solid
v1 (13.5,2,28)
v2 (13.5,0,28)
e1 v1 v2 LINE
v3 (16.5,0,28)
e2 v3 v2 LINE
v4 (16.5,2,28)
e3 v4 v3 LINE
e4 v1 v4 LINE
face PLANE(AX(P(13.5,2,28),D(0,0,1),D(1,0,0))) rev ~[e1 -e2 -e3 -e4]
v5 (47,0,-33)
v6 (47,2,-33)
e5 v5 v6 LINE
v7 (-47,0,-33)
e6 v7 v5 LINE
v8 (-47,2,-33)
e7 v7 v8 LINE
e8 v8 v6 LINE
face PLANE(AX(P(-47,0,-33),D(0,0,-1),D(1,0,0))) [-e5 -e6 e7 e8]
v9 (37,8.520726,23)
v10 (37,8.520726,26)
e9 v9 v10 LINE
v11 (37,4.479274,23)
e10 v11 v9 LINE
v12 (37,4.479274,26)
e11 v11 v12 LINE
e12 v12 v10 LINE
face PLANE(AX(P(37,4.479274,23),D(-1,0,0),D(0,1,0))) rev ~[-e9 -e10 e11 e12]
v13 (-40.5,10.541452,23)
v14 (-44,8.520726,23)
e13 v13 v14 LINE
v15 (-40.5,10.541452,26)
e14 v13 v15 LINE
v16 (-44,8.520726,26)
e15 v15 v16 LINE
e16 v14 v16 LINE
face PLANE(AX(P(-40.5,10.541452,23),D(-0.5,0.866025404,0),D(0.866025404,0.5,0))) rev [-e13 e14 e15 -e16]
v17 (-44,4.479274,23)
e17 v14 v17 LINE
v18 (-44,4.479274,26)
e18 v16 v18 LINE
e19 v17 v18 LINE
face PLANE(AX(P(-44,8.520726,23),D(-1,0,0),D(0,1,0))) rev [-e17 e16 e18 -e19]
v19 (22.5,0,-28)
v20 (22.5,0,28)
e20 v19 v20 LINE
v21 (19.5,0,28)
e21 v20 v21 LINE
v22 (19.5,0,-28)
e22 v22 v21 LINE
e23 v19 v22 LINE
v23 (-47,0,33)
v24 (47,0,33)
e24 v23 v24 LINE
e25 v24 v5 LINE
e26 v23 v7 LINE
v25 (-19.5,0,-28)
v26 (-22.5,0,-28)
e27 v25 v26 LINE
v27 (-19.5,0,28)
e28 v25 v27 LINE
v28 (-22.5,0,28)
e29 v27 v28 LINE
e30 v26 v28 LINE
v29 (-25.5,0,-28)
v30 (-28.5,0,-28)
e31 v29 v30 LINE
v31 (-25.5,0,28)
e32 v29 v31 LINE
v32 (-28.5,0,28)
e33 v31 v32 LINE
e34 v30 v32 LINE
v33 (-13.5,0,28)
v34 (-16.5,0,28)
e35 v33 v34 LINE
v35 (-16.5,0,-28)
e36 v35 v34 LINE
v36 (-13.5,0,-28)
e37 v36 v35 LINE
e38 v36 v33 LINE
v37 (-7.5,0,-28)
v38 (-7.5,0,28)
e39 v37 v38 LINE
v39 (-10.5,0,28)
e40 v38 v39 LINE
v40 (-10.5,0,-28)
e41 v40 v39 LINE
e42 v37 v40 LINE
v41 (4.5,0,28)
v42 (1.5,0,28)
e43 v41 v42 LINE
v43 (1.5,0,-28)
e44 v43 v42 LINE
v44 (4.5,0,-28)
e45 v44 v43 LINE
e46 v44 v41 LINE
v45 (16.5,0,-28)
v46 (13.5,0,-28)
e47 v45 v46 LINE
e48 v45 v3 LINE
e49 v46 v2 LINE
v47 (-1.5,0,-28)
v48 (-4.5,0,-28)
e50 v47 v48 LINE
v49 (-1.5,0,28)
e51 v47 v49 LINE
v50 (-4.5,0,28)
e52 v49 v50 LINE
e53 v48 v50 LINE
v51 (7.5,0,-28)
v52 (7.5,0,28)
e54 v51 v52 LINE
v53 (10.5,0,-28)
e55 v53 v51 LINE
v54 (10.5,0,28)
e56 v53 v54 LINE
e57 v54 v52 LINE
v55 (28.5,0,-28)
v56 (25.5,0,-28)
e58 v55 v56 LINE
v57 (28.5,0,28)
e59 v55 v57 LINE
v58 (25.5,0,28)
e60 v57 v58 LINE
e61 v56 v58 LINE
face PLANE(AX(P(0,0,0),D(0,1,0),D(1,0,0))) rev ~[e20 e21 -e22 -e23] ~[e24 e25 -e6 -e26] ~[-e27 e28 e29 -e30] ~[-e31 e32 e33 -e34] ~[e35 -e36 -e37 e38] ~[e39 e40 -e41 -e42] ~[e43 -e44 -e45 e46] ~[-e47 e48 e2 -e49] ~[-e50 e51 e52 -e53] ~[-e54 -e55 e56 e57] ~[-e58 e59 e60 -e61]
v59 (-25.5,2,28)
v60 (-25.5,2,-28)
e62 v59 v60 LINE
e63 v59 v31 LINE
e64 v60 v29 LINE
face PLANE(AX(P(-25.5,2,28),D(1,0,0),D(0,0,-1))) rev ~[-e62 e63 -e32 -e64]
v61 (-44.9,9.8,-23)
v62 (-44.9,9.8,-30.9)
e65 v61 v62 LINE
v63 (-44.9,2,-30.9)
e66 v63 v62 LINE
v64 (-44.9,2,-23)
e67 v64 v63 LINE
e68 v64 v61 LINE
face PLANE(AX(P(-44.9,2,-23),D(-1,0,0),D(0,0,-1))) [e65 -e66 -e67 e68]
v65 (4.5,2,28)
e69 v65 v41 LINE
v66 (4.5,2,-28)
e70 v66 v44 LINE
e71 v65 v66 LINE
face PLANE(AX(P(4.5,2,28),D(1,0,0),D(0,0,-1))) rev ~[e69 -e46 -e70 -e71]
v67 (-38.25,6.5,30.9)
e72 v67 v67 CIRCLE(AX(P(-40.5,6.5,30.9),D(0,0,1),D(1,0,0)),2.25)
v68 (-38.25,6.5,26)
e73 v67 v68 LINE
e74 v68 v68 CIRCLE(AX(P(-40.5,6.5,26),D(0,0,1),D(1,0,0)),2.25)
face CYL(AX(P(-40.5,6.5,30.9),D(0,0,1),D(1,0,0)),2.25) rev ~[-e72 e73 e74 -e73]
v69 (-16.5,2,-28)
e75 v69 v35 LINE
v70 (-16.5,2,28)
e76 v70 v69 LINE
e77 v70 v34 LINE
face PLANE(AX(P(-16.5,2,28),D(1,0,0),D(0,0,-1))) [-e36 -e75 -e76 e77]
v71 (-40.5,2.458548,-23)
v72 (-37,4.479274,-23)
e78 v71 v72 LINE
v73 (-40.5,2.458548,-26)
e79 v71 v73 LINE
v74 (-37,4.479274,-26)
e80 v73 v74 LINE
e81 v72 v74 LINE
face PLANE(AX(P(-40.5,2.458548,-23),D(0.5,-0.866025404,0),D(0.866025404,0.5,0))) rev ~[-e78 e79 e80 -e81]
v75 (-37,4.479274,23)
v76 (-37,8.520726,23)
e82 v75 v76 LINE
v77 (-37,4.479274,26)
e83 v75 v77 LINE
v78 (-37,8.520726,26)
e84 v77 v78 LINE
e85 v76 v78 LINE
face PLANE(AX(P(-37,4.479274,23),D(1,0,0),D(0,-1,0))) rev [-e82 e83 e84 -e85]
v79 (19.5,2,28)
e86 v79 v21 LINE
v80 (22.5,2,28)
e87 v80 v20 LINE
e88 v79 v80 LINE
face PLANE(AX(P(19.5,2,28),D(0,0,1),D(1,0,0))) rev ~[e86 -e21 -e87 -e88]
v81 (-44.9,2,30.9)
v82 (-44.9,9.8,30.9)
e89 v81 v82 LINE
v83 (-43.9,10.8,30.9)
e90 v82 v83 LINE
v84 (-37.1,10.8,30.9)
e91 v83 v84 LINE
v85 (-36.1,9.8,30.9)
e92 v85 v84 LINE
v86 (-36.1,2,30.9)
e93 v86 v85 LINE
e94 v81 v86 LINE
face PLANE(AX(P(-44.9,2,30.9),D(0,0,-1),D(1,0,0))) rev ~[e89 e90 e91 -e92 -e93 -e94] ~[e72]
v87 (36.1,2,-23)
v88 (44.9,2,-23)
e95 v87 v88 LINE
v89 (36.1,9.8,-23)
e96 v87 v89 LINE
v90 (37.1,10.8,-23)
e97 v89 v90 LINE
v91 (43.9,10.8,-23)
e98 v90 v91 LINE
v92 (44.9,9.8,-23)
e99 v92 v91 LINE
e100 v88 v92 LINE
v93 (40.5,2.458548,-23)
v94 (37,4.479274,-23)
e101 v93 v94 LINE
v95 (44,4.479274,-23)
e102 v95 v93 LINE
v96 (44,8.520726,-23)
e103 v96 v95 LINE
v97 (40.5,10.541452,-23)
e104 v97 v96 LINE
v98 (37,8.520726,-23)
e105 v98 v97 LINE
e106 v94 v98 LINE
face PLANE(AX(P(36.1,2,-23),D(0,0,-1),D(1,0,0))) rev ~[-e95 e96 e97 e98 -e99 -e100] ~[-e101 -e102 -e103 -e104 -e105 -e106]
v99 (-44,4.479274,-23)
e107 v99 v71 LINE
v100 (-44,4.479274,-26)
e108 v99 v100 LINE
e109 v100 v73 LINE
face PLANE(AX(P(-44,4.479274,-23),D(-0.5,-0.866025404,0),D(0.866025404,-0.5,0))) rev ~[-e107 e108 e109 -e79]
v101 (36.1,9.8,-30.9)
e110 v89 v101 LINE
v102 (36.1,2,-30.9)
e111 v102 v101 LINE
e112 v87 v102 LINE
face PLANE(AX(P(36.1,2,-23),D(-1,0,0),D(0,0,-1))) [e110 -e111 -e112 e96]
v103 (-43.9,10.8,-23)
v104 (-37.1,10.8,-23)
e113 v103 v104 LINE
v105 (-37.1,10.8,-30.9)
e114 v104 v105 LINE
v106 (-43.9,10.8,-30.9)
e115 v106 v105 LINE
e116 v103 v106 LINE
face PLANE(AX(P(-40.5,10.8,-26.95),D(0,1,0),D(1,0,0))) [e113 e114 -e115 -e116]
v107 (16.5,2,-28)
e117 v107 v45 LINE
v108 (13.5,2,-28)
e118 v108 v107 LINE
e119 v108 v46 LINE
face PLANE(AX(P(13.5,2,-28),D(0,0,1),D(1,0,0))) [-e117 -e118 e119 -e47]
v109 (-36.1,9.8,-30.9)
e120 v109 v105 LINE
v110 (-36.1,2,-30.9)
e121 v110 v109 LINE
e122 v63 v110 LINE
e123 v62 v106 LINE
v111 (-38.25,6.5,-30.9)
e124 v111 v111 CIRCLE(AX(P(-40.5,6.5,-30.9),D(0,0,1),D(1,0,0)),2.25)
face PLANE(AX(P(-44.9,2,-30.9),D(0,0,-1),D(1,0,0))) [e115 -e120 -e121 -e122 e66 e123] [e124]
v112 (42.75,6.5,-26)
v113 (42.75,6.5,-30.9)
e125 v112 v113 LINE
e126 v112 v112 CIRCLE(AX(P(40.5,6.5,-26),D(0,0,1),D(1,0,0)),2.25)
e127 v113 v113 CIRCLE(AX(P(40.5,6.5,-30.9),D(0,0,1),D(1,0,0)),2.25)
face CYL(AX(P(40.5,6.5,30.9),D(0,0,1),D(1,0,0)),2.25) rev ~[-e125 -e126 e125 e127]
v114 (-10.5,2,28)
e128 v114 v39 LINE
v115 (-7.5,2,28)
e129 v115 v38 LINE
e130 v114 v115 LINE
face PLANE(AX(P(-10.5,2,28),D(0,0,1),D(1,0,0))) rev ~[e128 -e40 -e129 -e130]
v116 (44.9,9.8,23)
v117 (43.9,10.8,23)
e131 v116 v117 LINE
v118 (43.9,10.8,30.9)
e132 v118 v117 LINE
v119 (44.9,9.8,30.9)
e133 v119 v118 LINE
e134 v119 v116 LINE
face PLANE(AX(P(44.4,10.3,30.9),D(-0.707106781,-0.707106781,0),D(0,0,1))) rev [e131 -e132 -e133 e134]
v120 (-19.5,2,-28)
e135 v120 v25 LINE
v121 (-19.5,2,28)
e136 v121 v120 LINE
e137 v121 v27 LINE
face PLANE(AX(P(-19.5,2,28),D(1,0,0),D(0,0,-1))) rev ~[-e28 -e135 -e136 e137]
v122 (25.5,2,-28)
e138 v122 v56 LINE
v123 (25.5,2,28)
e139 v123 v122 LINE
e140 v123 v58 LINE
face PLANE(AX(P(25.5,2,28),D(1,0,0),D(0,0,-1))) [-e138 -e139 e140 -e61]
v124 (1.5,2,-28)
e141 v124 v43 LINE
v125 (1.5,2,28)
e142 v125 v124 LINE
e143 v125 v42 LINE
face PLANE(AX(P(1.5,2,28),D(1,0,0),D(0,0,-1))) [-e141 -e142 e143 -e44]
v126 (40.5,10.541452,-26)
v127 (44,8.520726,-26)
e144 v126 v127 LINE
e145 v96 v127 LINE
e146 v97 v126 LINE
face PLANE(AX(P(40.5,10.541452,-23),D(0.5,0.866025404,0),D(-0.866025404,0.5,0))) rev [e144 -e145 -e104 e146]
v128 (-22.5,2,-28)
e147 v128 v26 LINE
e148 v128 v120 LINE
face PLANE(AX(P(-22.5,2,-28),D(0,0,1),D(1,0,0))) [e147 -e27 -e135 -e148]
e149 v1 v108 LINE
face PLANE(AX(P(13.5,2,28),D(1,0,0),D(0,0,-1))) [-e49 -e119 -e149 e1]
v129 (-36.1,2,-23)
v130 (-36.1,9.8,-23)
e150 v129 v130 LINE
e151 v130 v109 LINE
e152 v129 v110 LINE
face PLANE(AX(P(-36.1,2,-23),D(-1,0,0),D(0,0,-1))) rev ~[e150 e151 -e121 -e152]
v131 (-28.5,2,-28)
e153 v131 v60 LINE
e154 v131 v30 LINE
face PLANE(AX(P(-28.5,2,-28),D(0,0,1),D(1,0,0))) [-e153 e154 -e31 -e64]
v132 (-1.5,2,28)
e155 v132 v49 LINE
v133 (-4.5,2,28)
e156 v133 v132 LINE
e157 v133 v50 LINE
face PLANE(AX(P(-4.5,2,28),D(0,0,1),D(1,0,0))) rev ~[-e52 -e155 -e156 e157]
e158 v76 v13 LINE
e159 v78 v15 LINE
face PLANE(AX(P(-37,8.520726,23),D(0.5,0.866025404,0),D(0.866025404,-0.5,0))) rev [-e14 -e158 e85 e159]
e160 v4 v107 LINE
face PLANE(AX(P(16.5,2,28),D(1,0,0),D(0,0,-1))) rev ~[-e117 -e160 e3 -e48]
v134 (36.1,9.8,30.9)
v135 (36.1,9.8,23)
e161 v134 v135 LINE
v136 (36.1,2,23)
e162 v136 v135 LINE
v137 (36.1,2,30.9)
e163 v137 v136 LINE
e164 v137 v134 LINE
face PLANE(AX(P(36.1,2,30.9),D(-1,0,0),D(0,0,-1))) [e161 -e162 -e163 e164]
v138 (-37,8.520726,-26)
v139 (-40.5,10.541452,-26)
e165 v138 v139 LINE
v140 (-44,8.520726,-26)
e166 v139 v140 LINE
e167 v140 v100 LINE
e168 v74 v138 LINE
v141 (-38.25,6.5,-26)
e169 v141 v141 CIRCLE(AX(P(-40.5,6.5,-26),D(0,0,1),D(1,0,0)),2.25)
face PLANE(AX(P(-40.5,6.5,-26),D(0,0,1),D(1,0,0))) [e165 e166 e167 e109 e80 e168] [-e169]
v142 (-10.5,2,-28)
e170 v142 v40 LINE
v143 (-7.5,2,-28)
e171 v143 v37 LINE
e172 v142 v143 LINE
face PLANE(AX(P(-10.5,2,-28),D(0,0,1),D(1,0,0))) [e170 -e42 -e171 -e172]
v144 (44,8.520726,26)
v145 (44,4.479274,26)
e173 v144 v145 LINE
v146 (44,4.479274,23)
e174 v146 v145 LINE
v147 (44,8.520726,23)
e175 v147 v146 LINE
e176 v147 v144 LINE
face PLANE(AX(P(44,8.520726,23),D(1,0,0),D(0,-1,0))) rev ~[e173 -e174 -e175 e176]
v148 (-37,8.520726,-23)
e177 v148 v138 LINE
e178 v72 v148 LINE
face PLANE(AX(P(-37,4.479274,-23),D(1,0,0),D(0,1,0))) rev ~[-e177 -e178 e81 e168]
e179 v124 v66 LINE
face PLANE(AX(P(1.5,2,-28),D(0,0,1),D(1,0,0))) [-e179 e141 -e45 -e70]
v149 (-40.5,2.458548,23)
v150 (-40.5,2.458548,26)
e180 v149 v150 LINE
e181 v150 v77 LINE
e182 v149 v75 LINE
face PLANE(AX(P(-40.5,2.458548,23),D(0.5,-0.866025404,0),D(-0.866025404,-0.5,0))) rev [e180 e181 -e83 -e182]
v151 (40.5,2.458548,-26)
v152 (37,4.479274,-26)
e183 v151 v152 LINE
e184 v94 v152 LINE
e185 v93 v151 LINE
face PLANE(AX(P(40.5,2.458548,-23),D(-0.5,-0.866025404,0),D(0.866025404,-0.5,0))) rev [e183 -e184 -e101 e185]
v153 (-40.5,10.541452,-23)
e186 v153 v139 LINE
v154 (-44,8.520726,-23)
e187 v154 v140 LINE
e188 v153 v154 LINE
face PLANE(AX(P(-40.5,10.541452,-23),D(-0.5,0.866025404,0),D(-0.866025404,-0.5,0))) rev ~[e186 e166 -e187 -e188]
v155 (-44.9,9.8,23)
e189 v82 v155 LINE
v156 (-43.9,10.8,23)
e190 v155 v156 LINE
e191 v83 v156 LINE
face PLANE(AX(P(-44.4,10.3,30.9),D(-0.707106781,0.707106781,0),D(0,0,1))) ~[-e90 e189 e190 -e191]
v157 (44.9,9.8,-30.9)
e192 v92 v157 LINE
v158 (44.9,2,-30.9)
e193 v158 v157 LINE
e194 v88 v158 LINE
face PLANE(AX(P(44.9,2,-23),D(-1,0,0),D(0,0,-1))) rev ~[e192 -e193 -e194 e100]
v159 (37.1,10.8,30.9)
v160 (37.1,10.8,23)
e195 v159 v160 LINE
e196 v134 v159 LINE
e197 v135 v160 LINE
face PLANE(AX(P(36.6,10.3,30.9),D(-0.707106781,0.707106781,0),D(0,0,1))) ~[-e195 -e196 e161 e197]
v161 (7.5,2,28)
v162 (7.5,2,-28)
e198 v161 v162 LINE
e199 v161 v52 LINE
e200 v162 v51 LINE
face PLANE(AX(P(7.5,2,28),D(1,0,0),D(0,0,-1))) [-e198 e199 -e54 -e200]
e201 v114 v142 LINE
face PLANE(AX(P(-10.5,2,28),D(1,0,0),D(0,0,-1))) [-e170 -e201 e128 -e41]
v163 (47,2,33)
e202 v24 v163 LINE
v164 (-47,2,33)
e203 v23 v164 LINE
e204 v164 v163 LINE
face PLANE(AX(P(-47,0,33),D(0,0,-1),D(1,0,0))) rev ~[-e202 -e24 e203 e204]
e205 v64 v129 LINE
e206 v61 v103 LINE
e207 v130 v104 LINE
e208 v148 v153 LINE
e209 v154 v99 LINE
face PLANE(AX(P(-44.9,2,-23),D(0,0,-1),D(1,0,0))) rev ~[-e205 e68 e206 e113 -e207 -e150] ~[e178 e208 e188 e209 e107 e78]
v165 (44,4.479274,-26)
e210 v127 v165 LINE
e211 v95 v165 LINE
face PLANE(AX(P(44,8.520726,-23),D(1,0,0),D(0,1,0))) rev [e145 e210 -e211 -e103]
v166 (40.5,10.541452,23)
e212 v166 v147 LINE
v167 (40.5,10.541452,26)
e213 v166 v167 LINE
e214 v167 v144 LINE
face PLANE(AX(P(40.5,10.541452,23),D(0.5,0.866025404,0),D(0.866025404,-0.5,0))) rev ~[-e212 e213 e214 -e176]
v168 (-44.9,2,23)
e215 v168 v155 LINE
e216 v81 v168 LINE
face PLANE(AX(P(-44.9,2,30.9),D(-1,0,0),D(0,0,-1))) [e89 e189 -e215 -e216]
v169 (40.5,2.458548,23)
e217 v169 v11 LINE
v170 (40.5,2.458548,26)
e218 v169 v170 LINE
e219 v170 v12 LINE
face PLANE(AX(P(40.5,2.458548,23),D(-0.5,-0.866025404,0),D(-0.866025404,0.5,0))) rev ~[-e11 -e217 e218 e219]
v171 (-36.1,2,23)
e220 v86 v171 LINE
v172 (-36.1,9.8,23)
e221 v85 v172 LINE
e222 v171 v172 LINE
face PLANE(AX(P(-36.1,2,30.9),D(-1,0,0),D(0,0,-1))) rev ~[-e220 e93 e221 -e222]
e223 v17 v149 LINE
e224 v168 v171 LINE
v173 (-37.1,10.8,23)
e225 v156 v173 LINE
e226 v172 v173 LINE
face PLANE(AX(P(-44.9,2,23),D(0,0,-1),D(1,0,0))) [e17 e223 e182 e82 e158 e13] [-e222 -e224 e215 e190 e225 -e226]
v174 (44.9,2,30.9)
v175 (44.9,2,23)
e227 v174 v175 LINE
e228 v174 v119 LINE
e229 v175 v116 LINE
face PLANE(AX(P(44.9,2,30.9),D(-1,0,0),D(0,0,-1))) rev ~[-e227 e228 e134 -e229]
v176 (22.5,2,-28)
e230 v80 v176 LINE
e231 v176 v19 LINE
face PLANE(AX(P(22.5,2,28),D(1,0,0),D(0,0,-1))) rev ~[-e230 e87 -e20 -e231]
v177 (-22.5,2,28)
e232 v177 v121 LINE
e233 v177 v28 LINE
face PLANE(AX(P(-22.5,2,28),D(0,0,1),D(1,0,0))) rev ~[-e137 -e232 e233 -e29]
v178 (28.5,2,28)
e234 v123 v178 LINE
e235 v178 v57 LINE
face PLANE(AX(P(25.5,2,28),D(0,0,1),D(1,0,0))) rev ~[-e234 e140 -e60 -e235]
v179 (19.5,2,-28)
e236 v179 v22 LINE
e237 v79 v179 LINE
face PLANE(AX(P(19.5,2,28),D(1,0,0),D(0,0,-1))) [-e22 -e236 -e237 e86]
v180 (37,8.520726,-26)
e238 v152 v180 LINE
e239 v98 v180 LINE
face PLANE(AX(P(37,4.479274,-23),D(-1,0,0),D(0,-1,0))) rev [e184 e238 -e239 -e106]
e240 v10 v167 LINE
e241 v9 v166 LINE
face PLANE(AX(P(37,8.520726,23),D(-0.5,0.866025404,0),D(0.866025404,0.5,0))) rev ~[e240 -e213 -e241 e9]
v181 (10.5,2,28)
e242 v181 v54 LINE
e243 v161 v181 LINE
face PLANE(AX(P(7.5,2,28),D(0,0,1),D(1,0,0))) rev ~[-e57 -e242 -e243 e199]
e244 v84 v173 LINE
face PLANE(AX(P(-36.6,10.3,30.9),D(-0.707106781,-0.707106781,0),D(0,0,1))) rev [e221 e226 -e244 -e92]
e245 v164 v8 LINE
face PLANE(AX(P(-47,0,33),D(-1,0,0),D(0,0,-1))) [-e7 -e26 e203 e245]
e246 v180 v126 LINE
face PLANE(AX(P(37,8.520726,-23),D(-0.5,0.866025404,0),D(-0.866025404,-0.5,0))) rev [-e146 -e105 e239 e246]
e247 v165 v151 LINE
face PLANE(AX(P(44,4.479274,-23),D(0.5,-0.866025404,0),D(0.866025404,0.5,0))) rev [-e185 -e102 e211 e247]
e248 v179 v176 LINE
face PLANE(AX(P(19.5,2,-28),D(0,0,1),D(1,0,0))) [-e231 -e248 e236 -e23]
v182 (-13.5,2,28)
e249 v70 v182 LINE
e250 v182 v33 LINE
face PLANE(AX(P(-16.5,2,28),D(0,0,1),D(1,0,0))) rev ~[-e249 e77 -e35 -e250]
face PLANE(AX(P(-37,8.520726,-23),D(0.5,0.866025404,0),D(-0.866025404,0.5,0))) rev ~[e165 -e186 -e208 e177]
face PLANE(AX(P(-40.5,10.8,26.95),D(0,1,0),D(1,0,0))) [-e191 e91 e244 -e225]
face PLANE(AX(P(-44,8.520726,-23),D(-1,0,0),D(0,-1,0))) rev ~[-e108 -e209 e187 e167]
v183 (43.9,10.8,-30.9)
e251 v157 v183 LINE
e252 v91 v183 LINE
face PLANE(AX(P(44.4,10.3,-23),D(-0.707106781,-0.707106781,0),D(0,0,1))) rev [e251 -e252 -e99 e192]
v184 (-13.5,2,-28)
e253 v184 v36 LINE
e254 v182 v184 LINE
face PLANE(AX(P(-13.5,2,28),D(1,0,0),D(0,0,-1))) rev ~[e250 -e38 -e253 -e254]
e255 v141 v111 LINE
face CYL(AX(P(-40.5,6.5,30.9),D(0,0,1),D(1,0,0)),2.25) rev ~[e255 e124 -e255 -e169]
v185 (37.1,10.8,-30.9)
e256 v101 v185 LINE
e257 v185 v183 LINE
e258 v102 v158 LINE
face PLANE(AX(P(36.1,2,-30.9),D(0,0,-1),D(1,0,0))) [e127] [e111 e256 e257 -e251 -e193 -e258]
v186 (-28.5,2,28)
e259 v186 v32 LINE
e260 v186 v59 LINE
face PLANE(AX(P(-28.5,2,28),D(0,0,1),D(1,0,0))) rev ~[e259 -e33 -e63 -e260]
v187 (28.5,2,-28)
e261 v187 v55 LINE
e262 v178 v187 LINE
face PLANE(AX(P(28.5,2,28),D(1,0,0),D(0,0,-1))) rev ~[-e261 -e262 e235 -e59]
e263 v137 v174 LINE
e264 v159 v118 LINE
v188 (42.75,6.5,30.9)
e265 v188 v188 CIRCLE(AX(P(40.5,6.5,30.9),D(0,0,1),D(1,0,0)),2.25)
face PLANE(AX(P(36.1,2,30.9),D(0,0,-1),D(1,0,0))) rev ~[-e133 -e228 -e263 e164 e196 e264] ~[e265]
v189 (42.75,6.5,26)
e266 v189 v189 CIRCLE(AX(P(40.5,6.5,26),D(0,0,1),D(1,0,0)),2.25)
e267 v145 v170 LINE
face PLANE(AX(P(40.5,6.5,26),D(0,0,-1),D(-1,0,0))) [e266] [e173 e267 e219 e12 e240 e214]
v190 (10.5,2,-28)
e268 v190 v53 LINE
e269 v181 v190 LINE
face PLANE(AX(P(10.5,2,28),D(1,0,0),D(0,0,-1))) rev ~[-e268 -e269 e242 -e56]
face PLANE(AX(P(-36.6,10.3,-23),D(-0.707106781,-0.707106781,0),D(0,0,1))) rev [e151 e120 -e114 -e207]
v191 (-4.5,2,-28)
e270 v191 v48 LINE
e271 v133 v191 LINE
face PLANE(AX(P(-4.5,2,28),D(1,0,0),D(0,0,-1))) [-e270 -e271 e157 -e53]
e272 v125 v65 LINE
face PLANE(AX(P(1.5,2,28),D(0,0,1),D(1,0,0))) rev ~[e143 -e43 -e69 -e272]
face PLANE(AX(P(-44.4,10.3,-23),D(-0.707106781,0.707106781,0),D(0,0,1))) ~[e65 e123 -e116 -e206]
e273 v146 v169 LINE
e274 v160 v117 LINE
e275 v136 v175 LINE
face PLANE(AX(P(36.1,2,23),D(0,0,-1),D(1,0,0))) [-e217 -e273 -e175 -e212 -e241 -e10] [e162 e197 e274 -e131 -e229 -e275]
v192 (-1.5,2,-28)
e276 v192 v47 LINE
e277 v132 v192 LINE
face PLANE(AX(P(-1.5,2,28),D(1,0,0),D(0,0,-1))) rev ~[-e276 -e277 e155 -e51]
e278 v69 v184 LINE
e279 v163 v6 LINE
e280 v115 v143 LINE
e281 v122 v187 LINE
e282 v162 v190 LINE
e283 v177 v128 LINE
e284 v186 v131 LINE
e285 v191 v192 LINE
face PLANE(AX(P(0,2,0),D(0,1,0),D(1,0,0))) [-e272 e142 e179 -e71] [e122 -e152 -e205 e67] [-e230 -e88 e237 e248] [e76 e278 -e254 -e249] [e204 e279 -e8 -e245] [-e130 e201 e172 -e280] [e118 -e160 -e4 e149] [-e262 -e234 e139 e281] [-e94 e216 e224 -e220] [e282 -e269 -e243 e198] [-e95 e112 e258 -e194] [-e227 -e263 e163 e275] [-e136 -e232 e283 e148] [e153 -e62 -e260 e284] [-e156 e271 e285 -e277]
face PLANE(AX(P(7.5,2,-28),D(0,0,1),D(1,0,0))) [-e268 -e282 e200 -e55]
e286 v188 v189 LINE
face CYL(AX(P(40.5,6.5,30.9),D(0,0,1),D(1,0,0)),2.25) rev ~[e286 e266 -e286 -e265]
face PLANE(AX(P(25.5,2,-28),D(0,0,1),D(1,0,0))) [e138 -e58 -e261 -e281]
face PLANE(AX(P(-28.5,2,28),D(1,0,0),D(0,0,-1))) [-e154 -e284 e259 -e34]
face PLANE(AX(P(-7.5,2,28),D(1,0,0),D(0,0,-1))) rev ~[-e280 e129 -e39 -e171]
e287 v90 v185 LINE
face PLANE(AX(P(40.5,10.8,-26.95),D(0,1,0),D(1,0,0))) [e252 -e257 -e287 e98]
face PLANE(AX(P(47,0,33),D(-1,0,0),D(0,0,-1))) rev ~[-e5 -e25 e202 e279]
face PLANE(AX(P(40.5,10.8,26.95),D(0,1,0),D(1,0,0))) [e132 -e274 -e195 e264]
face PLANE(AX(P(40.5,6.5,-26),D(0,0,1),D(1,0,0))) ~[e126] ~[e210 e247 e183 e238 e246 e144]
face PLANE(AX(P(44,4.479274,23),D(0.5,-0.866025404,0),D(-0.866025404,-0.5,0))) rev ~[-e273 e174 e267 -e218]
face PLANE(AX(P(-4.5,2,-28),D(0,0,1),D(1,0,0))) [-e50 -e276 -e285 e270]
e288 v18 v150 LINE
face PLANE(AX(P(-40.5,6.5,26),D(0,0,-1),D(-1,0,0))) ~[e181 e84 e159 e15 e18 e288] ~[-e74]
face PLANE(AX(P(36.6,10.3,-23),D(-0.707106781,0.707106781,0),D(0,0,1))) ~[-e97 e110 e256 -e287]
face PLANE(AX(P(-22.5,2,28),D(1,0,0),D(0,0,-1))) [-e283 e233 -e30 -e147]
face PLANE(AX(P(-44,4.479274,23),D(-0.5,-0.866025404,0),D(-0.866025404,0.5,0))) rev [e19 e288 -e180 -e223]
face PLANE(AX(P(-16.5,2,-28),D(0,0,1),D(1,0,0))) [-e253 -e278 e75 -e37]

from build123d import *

# Parameters (mm, degrees)
SKETCH1_W            = 94
SKETCH1_H            = 66
BOSS_EXTRUDE1_DEPTH  = 2
SKETCH2_W            = 8.8
SKETCH2_H            = 7.9
BOSS_EXTRUDE2_DEPTH  = 8.8
SKETCH3_R            = 2.25
CUT_EXTRUDE1_DEPTH   = 81.055293392
CUT_EXTRUDE2_DEPTH   = 3
CHAMFER1_SIZE        = 1
MIRROR2_COPY_1_DEPTH = 3
CUT_EXTRUDE3_REACH   = 60.099
SKETCH6_W            = 3
SKETCH6_H            = 56


with BuildPart() as part:
    # Sketch1 → Boss-Extrude1 (new body)
    with BuildSketch(Plane(origin=(0, 0, 0), x_dir=(1, 0, 0), z_dir=(0, 1, 0))):
        Rectangle(SKETCH1_W, SKETCH1_H)
    extrude(amount=BOSS_EXTRUDE1_DEPTH)

    # Sketch2 → Boss-Extrude2 (add)
    with BuildSketch(Plane(origin=(0, 2, 0), x_dir=(1, 0, 0), z_dir=(0, 1, 0))):
        with Locations((-40.5, -26.95)):
            Rectangle(SKETCH2_W, SKETCH2_H)
        with Locations((40.5, -26.95)):
            Rectangle(SKETCH2_W, SKETCH2_H)
        with Locations((40.5, 26.95)):
            Rectangle(SKETCH2_W, SKETCH2_H)
        with Locations((-40.5, 26.95)):
            Rectangle(SKETCH2_W, SKETCH2_H)
    extrude(amount=BOSS_EXTRUDE2_DEPTH)

    # Sketch3 → Cut-Extrude1 (cut, through all)
    with BuildSketch(Plane.XY.offset(30.9)):
        with Locations((-40.5, 6.5)):
            Circle(SKETCH3_R)
        with Locations((40.5, 6.5)):
            Circle(SKETCH3_R)
    extrude(amount=-CUT_EXTRUDE1_DEPTH, mode=Mode.SUBTRACT)

    # Sketch5 → Cut-Extrude2 (cut)
    with BuildSketch(Plane.XY.offset(-23)):
        Polygon((-40.5, 10.541451884), (-44, 8.520725942), (-44, 4.479274058), (-40.5, 2.458548116), (-37, 4.479274058), (-37, 8.520725942), align=None)
    cut_extrude2 = extrude(amount=-CUT_EXTRUDE2_DEPTH, mode=Mode.SUBTRACT)

    # Chamfer1
    chamfer1_edges = [part.edges().sort_by_distance(p)[0] for p in [
        (-44.9, 10.8, 26.95),
        (-36.1, 10.8, 26.95),
        (44.9, 10.8, 26.95),
        (36.1, 10.8, 26.95),
        (36.1, 10.8, -26.95),
        (44.9, 10.8, -26.95),
        (-44.9, 10.8, -26.95),
        (-36.1, 10.8, -26.95),
    ]]
    chamfer(chamfer1_edges, length=CHAMFER1_SIZE)

    # Mirror1: Cut-Extrude2 across plane
    add(cut_extrude2.mirror(Plane.XY), mode=Mode.SUBTRACT)

    # Mirror2: Cut-Extrude2 across plane
    add(cut_extrude2.mirror(Plane(origin=(0, 0, 0), x_dir=(0, 0, 1), z_dir=(1, 0, 0))), mode=Mode.SUBTRACT)

    # Mirror2 copy 1 sketch → Mirror2 copy 1 (cut)
    with BuildSketch(Plane(origin=(0, 0, 23), x_dir=(-1, 0, 0), z_dir=(0, 0, -1))):
        Polygon((-40.5, 10.541451884), (-44, 8.520725942), (-44, 4.479274058), (-40.5, 2.458548116), (-37, 4.479274058), (-37, 8.520725942), align=None)
    extrude(amount=-MIRROR2_COPY_1_DEPTH, mode=Mode.SUBTRACT)

    # Sketch6 → Cut-Extrude3 (cut, up to next)
    with BuildSketch(Plane(origin=(0, 2, 0), x_dir=(1, 0, 0), z_dir=(0, 1, 0)), mode=Mode.PRIVATE) as cut_extrude3_sk1:
        with Locations((-3, 0)):
            Rectangle(SKETCH6_W, SKETCH6_H)
    cut_extrude3_tool1 = extrude(cut_extrude3_sk1.sketch, amount=-CUT_EXTRUDE3_REACH, mode=Mode.PRIVATE) & part.part
    # Sketch6 → Cut-Extrude3 (cut, up to next)
    with BuildSketch(Plane(origin=(0, 2, 0), x_dir=(1, 0, 0), z_dir=(0, 1, 0)), mode=Mode.PRIVATE) as cut_extrude3_sk2:
        with Locations((-9, 0)):
            Rectangle(SKETCH6_W, SKETCH6_H)
    cut_extrude3_tool2 = extrude(cut_extrude3_sk2.sketch, amount=-CUT_EXTRUDE3_REACH, mode=Mode.PRIVATE) & part.part
    # Sketch6 → Cut-Extrude3 (cut, up to next)
    with BuildSketch(Plane(origin=(0, 2, 0), x_dir=(1, 0, 0), z_dir=(0, 1, 0)), mode=Mode.PRIVATE) as cut_extrude3_sk3:
        with Locations((-15, 0)):
            Rectangle(SKETCH6_W, SKETCH6_H)
    cut_extrude3_tool3 = extrude(cut_extrude3_sk3.sketch, amount=-CUT_EXTRUDE3_REACH, mode=Mode.PRIVATE) & part.part
    # Sketch6 → Cut-Extrude3 (cut, up to next)
    with BuildSketch(Plane(origin=(0, 2, 0), x_dir=(1, 0, 0), z_dir=(0, 1, 0)), mode=Mode.PRIVATE) as cut_extrude3_sk4:
        with Locations((-21, 0)):
            Rectangle(SKETCH6_W, SKETCH6_H)
    cut_extrude3_tool4 = extrude(cut_extrude3_sk4.sketch, amount=-CUT_EXTRUDE3_REACH, mode=Mode.PRIVATE) & part.part
    # Sketch6 → Cut-Extrude3 (cut, up to next)
    with BuildSketch(Plane(origin=(0, 2, 0), x_dir=(1, 0, 0), z_dir=(0, 1, 0)), mode=Mode.PRIVATE) as cut_extrude3_sk5:
        with Locations((-27, 0)):
            Rectangle(SKETCH6_W, SKETCH6_H)
    cut_extrude3_tool5 = extrude(cut_extrude3_sk5.sketch, amount=-CUT_EXTRUDE3_REACH, mode=Mode.PRIVATE) & part.part
    # Sketch6 → Cut-Extrude3 (cut, up to next)
    with BuildSketch(Plane(origin=(0, 2, 0), x_dir=(1, 0, 0), z_dir=(0, 1, 0)), mode=Mode.PRIVATE) as cut_extrude3_sk6:
        with Locations((3, 0)):
            Rectangle(SKETCH6_W, SKETCH6_H)
    cut_extrude3_tool6 = extrude(cut_extrude3_sk6.sketch, amount=-CUT_EXTRUDE3_REACH, mode=Mode.PRIVATE) & part.part
    # Sketch6 → Cut-Extrude3 (cut, up to next)
    with BuildSketch(Plane(origin=(0, 2, 0), x_dir=(1, 0, 0), z_dir=(0, 1, 0)), mode=Mode.PRIVATE) as cut_extrude3_sk7:
        with Locations((9, 0)):
            Rectangle(SKETCH6_W, SKETCH6_H)
    cut_extrude3_tool7 = extrude(cut_extrude3_sk7.sketch, amount=-CUT_EXTRUDE3_REACH, mode=Mode.PRIVATE) & part.part
    # Sketch6 → Cut-Extrude3 (cut, up to next)
    with BuildSketch(Plane(origin=(0, 2, 0), x_dir=(1, 0, 0), z_dir=(0, 1, 0)), mode=Mode.PRIVATE) as cut_extrude3_sk8:
        with Locations((15, 0)):
            Rectangle(SKETCH6_W, SKETCH6_H)
    cut_extrude3_tool8 = extrude(cut_extrude3_sk8.sketch, amount=-CUT_EXTRUDE3_REACH, mode=Mode.PRIVATE) & part.part
    # Sketch6 → Cut-Extrude3 (cut, up to next)
    with BuildSketch(Plane(origin=(0, 2, 0), x_dir=(1, 0, 0), z_dir=(0, 1, 0)), mode=Mode.PRIVATE) as cut_extrude3_sk9:
        with Locations((21, 0)):
            Rectangle(SKETCH6_W, SKETCH6_H)
    cut_extrude3_tool9 = extrude(cut_extrude3_sk9.sketch, amount=-CUT_EXTRUDE3_REACH, mode=Mode.PRIVATE) & part.part
    # Sketch6 → Cut-Extrude3 (cut, up to next)
    with BuildSketch(Plane(origin=(0, 2, 0), x_dir=(1, 0, 0), z_dir=(0, 1, 0)), mode=Mode.PRIVATE) as cut_extrude3_sk10:
        with Locations((27, 0)):
            Rectangle(SKETCH6_W, SKETCH6_H)
    cut_extrude3_tool10 = extrude(cut_extrude3_sk10.sketch, amount=-CUT_EXTRUDE3_REACH, mode=Mode.PRIVATE) & part.part
    add(cut_extrude3_tool1.solids().sort_by_distance((-3, 2, 0))[0], mode=Mode.SUBTRACT)
    add(cut_extrude3_tool2.solids().sort_by_distance((-9, 2, 0))[0], mode=Mode.SUBTRACT)
    add(cut_extrude3_tool3.solids().sort_by_distance((-15, 2, 0))[0], mode=Mode.SUBTRACT)
    add(cut_extrude3_tool4.solids().sort_by_distance((-21, 2, 0))[0], mode=Mode.SUBTRACT)
    add(cut_extrude3_tool5.solids().sort_by_distance((-27, 2, 0))[0], mode=Mode.SUBTRACT)
    add(cut_extrude3_tool6.solids().sort_by_distance((3, 2, 0))[0], mode=Mode.SUBTRACT)
    add(cut_extrude3_tool7.solids().sort_by_distance((9, 2, 0))[0], mode=Mode.SUBTRACT)
    add(cut_extrude3_tool8.solids().sort_by_distance((15, 2, 0))[0], mode=Mode.SUBTRACT)
    add(cut_extrude3_tool9.solids().sort_by_distance((21, 2, 0))[0], mode=Mode.SUBTRACT)
    add(cut_extrude3_tool10.solids().sort_by_distance((27, 2, 0))[0], mode=Mode.SUBTRACT)


solid = part.part
